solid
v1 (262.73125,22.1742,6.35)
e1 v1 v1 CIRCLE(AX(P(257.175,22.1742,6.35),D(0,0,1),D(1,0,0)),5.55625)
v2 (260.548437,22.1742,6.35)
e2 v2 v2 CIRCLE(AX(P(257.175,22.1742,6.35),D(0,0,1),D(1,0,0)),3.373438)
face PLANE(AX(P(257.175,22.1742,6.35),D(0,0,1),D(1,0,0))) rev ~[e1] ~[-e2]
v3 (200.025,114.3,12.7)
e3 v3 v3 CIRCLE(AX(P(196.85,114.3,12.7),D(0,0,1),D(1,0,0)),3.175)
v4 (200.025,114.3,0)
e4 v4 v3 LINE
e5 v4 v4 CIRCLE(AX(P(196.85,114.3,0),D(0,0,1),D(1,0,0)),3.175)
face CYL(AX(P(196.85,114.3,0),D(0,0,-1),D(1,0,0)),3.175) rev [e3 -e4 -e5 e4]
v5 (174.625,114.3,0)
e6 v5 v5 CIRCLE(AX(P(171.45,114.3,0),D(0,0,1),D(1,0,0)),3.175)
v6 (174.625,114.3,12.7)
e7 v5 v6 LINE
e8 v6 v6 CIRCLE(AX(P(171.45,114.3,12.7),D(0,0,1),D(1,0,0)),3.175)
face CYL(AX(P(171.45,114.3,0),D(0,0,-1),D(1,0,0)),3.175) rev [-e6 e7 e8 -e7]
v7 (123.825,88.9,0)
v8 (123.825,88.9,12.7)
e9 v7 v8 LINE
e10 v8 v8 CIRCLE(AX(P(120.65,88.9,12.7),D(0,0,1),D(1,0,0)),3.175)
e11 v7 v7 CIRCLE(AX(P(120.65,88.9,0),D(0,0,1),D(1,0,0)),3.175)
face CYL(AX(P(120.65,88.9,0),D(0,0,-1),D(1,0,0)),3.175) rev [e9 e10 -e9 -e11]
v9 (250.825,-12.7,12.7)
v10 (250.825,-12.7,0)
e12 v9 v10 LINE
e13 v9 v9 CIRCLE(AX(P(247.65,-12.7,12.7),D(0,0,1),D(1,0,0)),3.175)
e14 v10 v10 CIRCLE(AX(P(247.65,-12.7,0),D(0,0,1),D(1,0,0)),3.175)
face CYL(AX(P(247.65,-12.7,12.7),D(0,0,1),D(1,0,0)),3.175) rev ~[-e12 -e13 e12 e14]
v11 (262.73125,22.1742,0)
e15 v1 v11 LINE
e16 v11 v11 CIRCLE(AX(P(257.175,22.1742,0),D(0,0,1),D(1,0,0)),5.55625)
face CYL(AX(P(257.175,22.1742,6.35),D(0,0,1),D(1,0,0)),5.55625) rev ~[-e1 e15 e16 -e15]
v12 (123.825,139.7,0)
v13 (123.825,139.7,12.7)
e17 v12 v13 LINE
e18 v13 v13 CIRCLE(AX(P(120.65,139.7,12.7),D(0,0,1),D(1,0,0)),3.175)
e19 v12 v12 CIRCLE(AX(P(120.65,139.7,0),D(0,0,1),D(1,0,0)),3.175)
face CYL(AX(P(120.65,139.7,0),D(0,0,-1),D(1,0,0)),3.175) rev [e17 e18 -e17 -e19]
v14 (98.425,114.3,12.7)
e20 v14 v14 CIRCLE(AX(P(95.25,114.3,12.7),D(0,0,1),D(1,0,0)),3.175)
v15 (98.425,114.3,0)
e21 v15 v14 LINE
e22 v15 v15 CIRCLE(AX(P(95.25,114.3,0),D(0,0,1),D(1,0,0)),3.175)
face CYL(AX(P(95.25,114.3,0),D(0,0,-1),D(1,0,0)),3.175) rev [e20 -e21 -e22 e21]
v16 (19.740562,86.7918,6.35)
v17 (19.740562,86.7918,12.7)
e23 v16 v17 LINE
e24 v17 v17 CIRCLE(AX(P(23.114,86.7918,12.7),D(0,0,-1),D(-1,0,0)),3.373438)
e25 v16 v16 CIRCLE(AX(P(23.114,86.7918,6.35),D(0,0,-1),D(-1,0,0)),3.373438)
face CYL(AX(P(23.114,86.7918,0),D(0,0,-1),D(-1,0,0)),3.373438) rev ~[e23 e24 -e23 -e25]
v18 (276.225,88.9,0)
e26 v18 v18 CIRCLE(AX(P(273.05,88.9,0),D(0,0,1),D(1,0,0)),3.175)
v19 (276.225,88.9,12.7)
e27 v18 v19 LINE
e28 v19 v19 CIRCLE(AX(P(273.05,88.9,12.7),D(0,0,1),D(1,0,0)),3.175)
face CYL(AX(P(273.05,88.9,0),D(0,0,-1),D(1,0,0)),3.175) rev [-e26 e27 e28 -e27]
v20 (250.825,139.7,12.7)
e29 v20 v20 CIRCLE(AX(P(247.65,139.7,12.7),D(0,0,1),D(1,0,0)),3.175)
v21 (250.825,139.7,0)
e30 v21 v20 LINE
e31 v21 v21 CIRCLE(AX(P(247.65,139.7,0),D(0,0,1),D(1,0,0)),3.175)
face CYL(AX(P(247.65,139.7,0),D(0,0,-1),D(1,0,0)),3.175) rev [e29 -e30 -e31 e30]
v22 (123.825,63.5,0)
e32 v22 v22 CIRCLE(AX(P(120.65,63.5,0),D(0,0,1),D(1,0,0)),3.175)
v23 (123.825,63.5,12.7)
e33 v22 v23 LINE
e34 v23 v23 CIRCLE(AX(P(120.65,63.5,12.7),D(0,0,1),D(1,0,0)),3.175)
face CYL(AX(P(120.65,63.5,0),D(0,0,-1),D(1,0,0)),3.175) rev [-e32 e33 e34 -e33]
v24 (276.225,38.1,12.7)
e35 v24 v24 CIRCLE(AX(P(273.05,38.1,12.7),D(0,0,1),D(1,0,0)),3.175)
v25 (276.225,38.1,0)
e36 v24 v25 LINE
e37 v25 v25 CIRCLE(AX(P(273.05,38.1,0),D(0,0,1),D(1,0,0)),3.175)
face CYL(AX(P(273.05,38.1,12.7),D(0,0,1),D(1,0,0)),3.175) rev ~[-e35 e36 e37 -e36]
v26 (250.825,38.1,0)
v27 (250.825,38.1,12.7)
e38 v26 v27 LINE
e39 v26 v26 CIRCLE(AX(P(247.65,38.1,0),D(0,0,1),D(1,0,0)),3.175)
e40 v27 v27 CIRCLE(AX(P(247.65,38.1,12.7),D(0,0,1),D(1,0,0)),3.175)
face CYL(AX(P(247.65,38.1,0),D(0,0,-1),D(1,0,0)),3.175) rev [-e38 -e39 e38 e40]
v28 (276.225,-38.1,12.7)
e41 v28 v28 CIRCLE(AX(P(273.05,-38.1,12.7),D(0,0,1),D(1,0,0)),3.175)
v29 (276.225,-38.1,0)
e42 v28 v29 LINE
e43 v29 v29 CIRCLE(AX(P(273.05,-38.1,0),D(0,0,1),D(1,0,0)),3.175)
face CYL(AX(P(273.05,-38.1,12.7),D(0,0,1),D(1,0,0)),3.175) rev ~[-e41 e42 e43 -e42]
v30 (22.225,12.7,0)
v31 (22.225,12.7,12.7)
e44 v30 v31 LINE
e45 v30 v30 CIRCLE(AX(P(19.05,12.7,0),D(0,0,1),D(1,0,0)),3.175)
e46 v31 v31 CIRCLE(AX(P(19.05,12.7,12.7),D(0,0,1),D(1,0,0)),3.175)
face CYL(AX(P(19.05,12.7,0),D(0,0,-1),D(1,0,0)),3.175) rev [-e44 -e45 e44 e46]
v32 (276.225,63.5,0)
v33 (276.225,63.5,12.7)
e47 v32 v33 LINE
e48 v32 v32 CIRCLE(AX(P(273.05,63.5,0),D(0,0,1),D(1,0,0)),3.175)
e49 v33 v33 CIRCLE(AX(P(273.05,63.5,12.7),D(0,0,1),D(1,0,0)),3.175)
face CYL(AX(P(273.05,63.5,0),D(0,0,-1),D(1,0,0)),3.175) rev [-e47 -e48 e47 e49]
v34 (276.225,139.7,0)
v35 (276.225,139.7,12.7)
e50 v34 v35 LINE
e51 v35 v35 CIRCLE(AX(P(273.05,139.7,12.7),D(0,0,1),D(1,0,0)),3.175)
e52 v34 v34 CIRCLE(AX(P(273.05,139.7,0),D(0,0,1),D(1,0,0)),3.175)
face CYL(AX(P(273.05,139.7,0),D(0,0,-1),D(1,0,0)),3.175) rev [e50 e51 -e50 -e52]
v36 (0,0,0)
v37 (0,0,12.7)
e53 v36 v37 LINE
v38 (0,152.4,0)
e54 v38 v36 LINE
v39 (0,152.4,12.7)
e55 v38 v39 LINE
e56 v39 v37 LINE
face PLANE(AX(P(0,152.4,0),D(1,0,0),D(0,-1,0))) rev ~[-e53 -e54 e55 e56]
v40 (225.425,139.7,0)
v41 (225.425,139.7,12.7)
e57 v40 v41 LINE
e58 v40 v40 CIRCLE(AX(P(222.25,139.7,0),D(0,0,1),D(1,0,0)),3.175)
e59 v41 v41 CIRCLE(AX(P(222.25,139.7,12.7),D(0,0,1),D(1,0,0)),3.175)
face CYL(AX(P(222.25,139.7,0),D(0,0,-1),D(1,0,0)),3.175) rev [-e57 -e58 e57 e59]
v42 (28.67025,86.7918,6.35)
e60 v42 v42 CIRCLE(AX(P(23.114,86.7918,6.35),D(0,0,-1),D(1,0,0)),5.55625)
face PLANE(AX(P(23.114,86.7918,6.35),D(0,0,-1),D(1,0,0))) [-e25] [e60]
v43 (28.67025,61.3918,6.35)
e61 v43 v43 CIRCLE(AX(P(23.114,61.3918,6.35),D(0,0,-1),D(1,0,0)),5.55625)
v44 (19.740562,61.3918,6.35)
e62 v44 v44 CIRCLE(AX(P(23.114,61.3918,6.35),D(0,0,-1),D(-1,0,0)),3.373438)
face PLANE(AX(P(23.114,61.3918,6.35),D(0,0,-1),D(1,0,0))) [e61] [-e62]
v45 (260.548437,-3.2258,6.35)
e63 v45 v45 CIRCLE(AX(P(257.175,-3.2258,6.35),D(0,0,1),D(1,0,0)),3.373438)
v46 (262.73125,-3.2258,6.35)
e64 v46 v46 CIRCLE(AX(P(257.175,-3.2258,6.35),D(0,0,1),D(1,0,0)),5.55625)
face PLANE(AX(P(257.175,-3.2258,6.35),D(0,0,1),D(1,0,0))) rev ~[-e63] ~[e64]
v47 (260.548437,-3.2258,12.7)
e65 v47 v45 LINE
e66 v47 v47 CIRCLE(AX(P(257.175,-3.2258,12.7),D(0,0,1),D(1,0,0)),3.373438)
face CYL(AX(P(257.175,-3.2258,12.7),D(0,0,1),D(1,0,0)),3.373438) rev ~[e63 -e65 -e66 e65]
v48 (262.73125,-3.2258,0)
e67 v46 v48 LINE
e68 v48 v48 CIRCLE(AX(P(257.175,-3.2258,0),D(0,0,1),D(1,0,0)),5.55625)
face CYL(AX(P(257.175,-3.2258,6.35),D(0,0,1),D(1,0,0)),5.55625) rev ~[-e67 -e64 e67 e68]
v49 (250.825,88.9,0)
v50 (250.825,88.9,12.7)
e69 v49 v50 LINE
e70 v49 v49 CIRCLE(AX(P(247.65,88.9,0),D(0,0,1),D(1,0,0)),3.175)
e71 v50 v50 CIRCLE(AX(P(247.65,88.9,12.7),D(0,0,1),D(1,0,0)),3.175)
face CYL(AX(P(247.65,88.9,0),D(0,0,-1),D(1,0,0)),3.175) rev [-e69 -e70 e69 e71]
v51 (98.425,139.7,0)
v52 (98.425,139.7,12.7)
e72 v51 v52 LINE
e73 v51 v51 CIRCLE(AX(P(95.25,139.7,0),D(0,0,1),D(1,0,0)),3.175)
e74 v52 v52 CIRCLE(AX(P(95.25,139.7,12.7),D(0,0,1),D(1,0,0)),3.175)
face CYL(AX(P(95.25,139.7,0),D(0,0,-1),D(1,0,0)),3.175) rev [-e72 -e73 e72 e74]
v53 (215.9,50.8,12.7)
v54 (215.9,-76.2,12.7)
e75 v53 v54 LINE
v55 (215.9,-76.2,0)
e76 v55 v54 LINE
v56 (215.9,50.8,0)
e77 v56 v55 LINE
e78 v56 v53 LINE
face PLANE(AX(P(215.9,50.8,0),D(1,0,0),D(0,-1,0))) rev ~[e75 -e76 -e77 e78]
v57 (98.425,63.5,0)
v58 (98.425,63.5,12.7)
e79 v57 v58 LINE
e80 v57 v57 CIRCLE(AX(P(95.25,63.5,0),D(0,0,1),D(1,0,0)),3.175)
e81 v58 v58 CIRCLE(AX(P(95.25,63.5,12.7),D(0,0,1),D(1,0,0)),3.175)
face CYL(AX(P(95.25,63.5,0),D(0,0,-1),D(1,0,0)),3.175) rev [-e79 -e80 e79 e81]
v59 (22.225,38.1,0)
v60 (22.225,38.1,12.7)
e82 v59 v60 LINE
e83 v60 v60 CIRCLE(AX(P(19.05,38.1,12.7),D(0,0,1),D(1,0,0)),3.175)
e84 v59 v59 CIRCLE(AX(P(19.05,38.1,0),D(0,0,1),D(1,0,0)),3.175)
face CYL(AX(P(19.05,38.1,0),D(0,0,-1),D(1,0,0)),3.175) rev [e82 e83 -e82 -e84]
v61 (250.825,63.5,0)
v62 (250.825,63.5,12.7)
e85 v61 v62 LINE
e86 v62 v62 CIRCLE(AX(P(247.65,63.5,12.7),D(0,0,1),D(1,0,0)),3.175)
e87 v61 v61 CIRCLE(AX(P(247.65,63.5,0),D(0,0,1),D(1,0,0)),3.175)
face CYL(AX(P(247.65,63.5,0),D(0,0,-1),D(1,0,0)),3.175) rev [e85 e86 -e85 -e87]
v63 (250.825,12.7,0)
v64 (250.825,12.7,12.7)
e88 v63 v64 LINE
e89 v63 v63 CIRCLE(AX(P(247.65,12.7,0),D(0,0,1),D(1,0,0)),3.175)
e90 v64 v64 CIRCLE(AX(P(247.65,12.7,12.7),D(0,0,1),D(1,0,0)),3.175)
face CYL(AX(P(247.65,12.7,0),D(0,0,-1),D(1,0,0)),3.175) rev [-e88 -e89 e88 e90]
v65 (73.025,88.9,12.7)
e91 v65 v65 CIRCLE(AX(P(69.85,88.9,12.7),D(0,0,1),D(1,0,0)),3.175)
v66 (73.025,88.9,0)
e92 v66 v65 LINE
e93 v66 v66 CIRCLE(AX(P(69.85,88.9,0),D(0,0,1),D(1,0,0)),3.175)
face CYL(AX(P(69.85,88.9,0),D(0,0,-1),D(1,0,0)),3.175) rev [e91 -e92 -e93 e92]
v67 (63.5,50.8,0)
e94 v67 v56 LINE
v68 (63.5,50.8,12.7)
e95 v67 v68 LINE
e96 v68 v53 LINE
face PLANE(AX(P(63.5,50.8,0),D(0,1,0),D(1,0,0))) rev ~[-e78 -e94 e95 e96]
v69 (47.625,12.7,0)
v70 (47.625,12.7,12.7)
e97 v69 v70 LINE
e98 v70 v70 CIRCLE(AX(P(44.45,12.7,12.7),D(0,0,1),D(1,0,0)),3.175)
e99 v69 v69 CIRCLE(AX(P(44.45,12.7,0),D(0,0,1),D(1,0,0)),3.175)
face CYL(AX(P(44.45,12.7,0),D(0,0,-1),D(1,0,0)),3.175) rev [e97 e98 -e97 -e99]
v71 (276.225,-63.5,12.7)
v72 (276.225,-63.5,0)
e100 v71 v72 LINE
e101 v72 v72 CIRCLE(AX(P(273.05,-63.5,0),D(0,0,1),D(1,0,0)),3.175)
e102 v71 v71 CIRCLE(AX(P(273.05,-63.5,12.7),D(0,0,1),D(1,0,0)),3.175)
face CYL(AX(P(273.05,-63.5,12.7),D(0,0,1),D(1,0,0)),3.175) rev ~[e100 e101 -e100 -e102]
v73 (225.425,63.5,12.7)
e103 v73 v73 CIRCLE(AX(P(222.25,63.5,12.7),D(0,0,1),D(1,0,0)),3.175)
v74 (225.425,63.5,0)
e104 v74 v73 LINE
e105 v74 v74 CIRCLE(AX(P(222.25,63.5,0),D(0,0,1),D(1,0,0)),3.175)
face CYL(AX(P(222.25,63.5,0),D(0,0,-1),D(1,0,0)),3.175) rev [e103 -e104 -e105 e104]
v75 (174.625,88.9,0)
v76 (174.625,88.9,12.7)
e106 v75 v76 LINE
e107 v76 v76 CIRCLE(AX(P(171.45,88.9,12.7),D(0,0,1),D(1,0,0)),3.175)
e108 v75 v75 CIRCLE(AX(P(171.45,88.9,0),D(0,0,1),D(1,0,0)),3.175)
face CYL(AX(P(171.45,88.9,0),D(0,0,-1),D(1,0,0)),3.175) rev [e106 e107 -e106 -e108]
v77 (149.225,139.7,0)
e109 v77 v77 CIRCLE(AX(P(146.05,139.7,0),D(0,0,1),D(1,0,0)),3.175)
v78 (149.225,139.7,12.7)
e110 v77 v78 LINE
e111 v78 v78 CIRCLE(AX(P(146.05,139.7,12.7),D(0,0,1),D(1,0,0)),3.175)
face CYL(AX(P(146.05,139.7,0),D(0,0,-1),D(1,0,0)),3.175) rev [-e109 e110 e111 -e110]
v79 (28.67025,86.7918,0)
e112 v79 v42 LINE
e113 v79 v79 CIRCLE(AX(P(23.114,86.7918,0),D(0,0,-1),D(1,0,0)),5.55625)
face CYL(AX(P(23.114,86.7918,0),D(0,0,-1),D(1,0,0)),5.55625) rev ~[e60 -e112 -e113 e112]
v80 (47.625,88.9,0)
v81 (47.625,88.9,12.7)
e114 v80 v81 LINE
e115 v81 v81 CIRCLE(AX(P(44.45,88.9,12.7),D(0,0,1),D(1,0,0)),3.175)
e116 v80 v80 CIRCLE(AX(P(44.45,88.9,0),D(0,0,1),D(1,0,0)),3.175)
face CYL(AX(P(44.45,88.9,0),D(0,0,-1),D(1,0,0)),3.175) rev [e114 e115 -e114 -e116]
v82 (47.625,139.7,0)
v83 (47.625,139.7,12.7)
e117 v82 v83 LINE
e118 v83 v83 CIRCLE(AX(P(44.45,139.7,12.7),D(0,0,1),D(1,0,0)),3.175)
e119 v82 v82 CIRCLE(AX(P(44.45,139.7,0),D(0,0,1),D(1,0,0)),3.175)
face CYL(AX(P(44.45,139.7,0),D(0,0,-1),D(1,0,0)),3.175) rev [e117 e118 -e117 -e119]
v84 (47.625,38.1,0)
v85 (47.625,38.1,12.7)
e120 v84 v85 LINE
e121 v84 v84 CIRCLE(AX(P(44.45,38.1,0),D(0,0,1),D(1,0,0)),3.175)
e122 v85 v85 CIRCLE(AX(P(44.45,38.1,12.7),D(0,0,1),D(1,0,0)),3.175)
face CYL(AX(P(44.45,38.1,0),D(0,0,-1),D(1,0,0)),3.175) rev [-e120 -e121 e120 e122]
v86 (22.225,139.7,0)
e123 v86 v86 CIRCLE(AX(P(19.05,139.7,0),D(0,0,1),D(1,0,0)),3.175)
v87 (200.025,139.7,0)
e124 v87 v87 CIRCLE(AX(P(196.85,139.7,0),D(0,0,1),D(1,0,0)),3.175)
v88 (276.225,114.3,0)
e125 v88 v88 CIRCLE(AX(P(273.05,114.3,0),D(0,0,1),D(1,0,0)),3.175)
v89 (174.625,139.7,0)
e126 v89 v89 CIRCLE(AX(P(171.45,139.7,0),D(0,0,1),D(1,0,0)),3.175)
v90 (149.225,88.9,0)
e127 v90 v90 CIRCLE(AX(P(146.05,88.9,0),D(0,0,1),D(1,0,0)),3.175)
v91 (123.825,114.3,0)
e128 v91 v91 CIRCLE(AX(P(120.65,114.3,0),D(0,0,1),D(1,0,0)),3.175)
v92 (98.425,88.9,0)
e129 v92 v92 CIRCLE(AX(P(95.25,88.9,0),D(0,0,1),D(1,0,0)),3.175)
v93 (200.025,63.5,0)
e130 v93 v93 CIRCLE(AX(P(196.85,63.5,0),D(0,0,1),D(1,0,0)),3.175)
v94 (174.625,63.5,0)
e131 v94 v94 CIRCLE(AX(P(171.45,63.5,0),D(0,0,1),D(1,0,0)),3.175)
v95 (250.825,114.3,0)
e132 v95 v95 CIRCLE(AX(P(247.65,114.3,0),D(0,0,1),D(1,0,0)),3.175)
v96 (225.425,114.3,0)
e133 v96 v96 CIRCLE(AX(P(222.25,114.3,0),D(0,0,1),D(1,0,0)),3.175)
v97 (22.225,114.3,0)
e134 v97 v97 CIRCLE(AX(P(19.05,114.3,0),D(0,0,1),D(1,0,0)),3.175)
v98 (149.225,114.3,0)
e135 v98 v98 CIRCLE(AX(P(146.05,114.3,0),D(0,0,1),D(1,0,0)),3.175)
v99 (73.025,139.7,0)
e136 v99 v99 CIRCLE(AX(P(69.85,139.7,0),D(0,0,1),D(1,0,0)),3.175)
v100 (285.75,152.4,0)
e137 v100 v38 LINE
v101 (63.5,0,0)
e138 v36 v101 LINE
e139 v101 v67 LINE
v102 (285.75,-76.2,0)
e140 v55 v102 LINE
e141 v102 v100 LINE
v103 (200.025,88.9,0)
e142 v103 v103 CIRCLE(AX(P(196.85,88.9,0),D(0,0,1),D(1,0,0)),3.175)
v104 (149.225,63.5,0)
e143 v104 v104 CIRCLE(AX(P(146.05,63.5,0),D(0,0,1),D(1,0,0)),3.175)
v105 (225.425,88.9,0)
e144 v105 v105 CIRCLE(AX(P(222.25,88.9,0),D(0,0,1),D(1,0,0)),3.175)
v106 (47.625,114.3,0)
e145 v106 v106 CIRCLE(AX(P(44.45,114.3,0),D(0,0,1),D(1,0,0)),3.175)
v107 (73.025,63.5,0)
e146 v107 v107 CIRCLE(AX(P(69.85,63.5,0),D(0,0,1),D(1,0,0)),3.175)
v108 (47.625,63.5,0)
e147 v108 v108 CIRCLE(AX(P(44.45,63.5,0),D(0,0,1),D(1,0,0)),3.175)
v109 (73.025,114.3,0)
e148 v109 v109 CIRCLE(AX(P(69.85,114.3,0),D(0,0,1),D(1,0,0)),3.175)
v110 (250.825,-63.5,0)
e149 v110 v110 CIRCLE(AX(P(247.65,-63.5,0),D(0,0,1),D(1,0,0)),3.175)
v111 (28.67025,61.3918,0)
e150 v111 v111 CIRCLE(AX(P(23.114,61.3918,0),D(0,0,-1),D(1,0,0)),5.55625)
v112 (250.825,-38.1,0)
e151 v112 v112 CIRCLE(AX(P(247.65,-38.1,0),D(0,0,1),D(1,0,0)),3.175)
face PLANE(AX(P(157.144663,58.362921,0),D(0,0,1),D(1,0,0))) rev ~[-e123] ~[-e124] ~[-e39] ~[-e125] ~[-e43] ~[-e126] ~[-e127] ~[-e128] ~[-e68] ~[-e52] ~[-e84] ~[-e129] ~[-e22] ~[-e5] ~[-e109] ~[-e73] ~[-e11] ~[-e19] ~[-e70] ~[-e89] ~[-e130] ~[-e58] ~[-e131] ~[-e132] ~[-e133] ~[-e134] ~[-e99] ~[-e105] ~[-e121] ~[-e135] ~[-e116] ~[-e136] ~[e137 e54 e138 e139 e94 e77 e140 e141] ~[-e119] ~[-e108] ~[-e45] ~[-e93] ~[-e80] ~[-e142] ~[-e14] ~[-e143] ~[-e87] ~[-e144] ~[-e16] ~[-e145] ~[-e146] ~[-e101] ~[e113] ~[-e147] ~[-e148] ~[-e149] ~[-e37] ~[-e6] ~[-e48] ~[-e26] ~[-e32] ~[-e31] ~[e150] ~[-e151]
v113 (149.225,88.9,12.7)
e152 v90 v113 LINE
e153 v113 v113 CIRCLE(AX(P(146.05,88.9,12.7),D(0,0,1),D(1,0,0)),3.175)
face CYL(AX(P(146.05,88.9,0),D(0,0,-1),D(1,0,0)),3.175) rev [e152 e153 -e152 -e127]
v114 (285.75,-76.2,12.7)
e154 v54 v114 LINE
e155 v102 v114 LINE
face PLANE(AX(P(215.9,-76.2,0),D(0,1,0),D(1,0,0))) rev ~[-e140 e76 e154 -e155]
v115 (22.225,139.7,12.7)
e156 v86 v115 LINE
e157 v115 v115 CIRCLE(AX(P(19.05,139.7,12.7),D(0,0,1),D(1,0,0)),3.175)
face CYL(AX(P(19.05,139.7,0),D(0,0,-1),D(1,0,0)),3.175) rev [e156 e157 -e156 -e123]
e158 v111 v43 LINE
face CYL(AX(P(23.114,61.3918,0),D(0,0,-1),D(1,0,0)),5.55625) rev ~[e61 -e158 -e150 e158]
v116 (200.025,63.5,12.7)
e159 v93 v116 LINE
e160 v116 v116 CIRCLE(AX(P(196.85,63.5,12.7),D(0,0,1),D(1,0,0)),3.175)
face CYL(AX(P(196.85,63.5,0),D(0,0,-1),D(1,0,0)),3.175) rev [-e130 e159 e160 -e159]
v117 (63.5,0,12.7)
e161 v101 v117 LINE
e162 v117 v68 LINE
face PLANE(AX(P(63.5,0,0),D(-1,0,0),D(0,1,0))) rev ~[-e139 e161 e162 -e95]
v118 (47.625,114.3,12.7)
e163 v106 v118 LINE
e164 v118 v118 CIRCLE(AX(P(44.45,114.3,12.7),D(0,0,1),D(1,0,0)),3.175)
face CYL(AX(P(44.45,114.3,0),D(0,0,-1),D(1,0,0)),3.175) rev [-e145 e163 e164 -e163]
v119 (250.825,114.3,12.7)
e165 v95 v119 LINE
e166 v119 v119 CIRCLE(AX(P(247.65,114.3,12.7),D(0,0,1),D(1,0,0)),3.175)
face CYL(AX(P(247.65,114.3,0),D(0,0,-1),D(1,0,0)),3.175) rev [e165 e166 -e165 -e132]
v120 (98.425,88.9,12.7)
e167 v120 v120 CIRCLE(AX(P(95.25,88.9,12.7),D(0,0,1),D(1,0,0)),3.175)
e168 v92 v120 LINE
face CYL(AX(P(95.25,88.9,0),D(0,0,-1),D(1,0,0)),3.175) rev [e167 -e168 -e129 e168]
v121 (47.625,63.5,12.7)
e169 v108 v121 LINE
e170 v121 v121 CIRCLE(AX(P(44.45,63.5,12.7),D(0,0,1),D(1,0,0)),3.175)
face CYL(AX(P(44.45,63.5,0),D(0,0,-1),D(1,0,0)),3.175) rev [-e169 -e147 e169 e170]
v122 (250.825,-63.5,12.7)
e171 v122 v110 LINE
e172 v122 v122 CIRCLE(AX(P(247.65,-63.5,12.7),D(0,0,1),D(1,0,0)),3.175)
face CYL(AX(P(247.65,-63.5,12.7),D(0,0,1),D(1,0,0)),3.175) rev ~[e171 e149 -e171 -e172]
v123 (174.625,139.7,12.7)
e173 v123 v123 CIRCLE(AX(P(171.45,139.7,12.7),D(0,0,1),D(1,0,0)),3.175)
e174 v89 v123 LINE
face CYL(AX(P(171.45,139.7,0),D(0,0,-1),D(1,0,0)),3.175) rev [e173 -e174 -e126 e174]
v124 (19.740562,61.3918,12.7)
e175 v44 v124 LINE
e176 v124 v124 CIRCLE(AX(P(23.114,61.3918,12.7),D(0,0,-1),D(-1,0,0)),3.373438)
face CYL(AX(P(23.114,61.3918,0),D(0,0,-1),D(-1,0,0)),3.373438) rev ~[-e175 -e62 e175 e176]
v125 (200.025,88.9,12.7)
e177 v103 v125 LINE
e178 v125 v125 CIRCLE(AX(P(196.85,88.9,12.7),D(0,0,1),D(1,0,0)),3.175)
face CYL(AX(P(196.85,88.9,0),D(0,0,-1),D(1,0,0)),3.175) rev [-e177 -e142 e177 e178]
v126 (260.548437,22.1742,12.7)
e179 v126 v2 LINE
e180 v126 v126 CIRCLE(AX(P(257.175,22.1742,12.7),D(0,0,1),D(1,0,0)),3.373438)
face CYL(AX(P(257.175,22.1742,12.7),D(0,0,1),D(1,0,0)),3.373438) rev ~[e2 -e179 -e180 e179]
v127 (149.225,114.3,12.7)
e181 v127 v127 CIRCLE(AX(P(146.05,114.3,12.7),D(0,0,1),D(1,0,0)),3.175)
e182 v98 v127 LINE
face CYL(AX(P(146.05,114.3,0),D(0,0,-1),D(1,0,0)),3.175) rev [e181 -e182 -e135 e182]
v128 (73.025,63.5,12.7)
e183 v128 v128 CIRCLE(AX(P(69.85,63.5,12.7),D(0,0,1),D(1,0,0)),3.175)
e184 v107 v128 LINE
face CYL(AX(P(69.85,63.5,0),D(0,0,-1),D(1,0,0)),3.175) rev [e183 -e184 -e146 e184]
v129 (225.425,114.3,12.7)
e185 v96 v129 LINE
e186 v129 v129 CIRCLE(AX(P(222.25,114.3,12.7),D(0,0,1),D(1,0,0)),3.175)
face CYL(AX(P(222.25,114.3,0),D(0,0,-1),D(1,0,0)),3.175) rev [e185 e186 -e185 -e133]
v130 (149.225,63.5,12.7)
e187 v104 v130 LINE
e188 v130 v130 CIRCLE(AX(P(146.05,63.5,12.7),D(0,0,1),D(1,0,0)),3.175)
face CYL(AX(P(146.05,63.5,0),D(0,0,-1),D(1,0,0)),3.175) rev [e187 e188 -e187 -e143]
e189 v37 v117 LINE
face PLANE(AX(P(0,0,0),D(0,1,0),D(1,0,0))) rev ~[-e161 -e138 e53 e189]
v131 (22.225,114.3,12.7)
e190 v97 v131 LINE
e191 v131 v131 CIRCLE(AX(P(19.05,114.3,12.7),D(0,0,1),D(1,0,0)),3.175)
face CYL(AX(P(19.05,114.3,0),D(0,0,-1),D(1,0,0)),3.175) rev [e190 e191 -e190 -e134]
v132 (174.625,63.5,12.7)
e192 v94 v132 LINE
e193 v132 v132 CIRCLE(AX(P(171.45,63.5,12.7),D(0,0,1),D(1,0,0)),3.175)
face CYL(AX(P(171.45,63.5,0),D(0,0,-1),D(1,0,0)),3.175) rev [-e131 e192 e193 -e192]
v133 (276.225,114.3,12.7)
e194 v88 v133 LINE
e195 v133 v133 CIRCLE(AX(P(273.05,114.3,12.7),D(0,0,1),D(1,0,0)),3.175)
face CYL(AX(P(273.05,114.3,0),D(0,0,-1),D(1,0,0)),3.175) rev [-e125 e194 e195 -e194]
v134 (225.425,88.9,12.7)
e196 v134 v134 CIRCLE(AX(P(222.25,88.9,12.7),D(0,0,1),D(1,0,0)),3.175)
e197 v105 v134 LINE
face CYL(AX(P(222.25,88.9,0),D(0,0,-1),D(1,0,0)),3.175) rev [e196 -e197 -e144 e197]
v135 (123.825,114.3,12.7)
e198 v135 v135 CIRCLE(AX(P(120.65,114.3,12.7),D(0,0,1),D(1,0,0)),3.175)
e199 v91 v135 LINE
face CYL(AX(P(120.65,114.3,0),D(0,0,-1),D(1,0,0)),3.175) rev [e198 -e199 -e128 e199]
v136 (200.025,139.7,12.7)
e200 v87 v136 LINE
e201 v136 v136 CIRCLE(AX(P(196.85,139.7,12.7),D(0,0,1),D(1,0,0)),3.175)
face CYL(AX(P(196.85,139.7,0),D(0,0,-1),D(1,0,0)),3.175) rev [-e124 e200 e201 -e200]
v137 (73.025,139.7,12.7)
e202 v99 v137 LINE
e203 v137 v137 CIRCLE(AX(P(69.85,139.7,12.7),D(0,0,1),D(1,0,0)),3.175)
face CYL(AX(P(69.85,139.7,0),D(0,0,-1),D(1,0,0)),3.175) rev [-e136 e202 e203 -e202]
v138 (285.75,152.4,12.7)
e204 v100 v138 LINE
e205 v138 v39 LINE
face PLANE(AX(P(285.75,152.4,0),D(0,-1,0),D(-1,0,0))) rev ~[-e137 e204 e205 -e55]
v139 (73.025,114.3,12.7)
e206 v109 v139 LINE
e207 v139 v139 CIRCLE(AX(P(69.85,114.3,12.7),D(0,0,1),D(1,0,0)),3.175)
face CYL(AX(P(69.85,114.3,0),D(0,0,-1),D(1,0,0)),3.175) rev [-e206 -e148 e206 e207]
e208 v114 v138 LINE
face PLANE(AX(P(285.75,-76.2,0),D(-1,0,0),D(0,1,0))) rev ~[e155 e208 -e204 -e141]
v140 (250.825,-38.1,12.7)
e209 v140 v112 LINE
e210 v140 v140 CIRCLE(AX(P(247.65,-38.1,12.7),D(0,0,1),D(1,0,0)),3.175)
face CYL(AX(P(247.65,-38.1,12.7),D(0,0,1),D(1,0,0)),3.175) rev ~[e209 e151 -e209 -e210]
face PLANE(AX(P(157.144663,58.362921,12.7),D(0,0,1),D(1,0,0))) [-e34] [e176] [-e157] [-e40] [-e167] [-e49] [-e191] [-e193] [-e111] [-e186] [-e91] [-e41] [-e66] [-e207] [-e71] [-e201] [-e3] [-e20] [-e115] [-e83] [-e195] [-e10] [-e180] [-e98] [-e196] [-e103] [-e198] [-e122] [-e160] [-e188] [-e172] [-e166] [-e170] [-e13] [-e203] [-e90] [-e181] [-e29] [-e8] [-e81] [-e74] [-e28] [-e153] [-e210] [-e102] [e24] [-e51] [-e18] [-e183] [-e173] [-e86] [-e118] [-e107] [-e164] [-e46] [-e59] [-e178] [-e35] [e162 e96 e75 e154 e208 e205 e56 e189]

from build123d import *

# Parameters (mm, degrees)
SKETCH1_R           = 3.175
BOSS_EXTRUDE1_DEPTH = 12.7
SKETCH2_R           = 3.175
CUT_EXTRUDE1_DEPTH  = 12.7
SKETCH3_R           = 3.3734375
CUT_EXTRUDE2_DEPTH  = 12.7
CUT_EXTRUDE3_START  = -6.35
SKETCH3_3_R         = 5.55625
SKETCH3_3_R_2       = 3.3734375
CUT_EXTRUDE3_DEPTH  = 6.35
SKETCH5_R           = 3.3734375
CUT_EXTRUDE4_DEPTH  = 12.7
SKETCH5_3_R         = 5.55625
SKETCH5_3_R_2       = 3.3734375
CUT_EXTRUDE5_DEPTH  = 6.35


with BuildPart() as part:
    # Sketch1 → Boss-Extrude1 (new body)
    with BuildSketch(Plane.XY):
        Polygon((0, 152.4), (0, 0), (63.5, 0), (63.5, 50.8), (215.9, 50.8), (215.9, -76.2), (285.75, -76.2), (285.75, 152.4), align=None)
        with Locations((19.05, 12.7)):
            Circle(SKETCH1_R, mode=Mode.SUBTRACT)
        with Locations((19.05, 38.1)):
            Circle(SKETCH1_R, mode=Mode.SUBTRACT)
        with Locations((44.45, 12.7)):
            Circle(SKETCH1_R, mode=Mode.SUBTRACT)
        with Locations((44.45, 38.1)):
            Circle(SKETCH1_R, mode=Mode.SUBTRACT)
        with Locations((247.65, 12.7)):
            Circle(SKETCH1_R, mode=Mode.SUBTRACT)
        with Locations((247.65, 38.1)):
            Circle(SKETCH1_R, mode=Mode.SUBTRACT)
        with Locations((44.45, 63.5)):
            Circle(SKETCH1_R, mode=Mode.SUBTRACT)
        with Locations((69.85, 63.5)):
            Circle(SKETCH1_R, mode=Mode.SUBTRACT)
        with Locations((44.45, 88.9)):
            Circle(SKETCH1_R, mode=Mode.SUBTRACT)
        with Locations((69.85, 88.9)):
            Circle(SKETCH1_R, mode=Mode.SUBTRACT)
        with Locations((95.25, 63.5)):
            Circle(SKETCH1_R, mode=Mode.SUBTRACT)
        with Locations((120.65, 63.5)):
            Circle(SKETCH1_R, mode=Mode.SUBTRACT)
        with Locations((95.25, 88.9)):
            Circle(SKETCH1_R, mode=Mode.SUBTRACT)
        with Locations((120.65, 88.9)):
            Circle(SKETCH1_R, mode=Mode.SUBTRACT)
        with Locations((19.05, 114.3)):
            Circle(SKETCH1_R, mode=Mode.SUBTRACT)
        with Locations((44.45, 114.3)):
            Circle(SKETCH1_R, mode=Mode.SUBTRACT)
        with Locations((69.85, 114.3)):
            Circle(SKETCH1_R, mode=Mode.SUBTRACT)
        with Locations((19.05, 139.7)):
            Circle(SKETCH1_R, mode=Mode.SUBTRACT)
        with Locations((44.45, 139.7)):
            Circle(SKETCH1_R, mode=Mode.SUBTRACT)
        with Locations((69.85, 139.7)):
            Circle(SKETCH1_R, mode=Mode.SUBTRACT)
        with Locations((95.25, 114.3)):
            Circle(SKETCH1_R, mode=Mode.SUBTRACT)
        with Locations((120.65, 114.3)):
            Circle(SKETCH1_R, mode=Mode.SUBTRACT)
        with Locations((95.25, 139.7)):
            Circle(SKETCH1_R, mode=Mode.SUBTRACT)
        with Locations((120.65, 139.7)):
            Circle(SKETCH1_R, mode=Mode.SUBTRACT)
        with Locations((146.05, 63.5)):
            Circle(SKETCH1_R, mode=Mode.SUBTRACT)
        with Locations((171.45, 63.5)):
            Circle(SKETCH1_R, mode=Mode.SUBTRACT)
        with Locations((196.85, 63.5)):
            Circle(SKETCH1_R, mode=Mode.SUBTRACT)
        with Locations((146.05, 88.9)):
            Circle(SKETCH1_R, mode=Mode.SUBTRACT)
        with Locations((171.45, 88.9)):
            Circle(SKETCH1_R, mode=Mode.SUBTRACT)
        with Locations((196.85, 88.9)):
            Circle(SKETCH1_R, mode=Mode.SUBTRACT)
        with Locations((222.25, 63.5)):
            Circle(SKETCH1_R, mode=Mode.SUBTRACT)
        with Locations((247.65, 63.5)):
            Circle(SKETCH1_R, mode=Mode.SUBTRACT)
        with Locations((273.05, 63.5)):
            Circle(SKETCH1_R, mode=Mode.SUBTRACT)
        with Locations((222.25, 88.9)):
            Circle(SKETCH1_R, mode=Mode.SUBTRACT)
        with Locations((247.65, 88.9)):
            Circle(SKETCH1_R, mode=Mode.SUBTRACT)
        with Locations((273.05, 88.9)):
            Circle(SKETCH1_R, mode=Mode.SUBTRACT)
        with Locations((146.05, 114.3)):
            Circle(SKETCH1_R, mode=Mode.SUBTRACT)
        with Locations((171.45, 114.3)):
            Circle(SKETCH1_R, mode=Mode.SUBTRACT)
        with Locations((196.85, 114.3)):
            Circle(SKETCH1_R, mode=Mode.SUBTRACT)
        with Locations((146.05, 139.7)):
            Circle(SKETCH1_R, mode=Mode.SUBTRACT)
        with Locations((171.45, 139.7)):
            Circle(SKETCH1_R, mode=Mode.SUBTRACT)
        with Locations((196.85, 139.7)):
            Circle(SKETCH1_R, mode=Mode.SUBTRACT)
        with Locations((222.25, 114.3)):
            Circle(SKETCH1_R, mode=Mode.SUBTRACT)
        with Locations((247.65, 114.3)):
            Circle(SKETCH1_R, mode=Mode.SUBTRACT)
        with Locations((273.05, 114.3)):
            Circle(SKETCH1_R, mode=Mode.SUBTRACT)
        with Locations((222.25, 139.7)):
            Circle(SKETCH1_R, mode=Mode.SUBTRACT)
        with Locations((247.65, 139.7)):
            Circle(SKETCH1_R, mode=Mode.SUBTRACT)
        with Locations((273.05, 139.7)):
            Circle(SKETCH1_R, mode=Mode.SUBTRACT)
    extrude(amount=BOSS_EXTRUDE1_DEPTH)

    # Sketch2 → Cut-Extrude1 (cut)
    with BuildSketch(Plane.XY.offset(12.7)):
        with Locations((247.65, -12.7)):
            Circle(SKETCH2_R)
        with Locations((247.65, -38.1)):
            Circle(SKETCH2_R)
        with Locations((247.65, -63.5)):
            Circle(SKETCH2_R)
        with Locations((273.05, -38.1)):
            Circle(SKETCH2_R)
        with Locations((273.05, -63.5)):
            Circle(SKETCH2_R)
        with Locations((273.05, 38.1)):
            Circle(SKETCH2_R)
    extrude(amount=-CUT_EXTRUDE1_DEPTH, mode=Mode.SUBTRACT)

    # Sketch3 → Cut-Extrude2 (cut)
    with BuildSketch(Plane.XY.offset(12.7)):
        with Locations((257.175, -3.2258)):
            Circle(SKETCH3_R)
        with Locations((257.175, 22.1742)):
            Circle(SKETCH3_R)
    extrude(amount=-CUT_EXTRUDE2_DEPTH, mode=Mode.SUBTRACT)

    # Sketch3<3> → Cut-Extrude3 (cut)
    # profile 1 of 2: a face of its own
    with BuildSketch(Plane.XY.offset(12.7).offset(CUT_EXTRUDE3_START)):
        with Locations((257.175, -3.2258)):
            Circle(SKETCH3_3_R)
        with Locations((257.175, -3.2258)):
            Circle(SKETCH3_3_R_2, mode=Mode.SUBTRACT)
    # profile 2 of 2: a face of its own
    with BuildSketch(Plane.XY.offset(12.7).offset(CUT_EXTRUDE3_START)):
        with Locations((257.175, 22.1742)):
            Circle(SKETCH3_3_R)
        with Locations((257.175, 22.1742)):
            Circle(SKETCH3_3_R_2, mode=Mode.SUBTRACT)
    extrude(amount=-CUT_EXTRUDE3_DEPTH, mode=Mode.SUBTRACT)

    # Sketch5 → Cut-Extrude4 (cut)
    with BuildSketch(Plane(origin=(0, 0, 0), x_dir=(-1, 0, 0), z_dir=(0, 0, -1))):
        with Locations((-23.114, 61.3918)):
            Circle(SKETCH5_R)
        with Locations((-23.114, 86.7918)):
            Circle(SKETCH5_R)
    extrude(amount=-CUT_EXTRUDE4_DEPTH, mode=Mode.SUBTRACT)

    # Sketch5<3> → Cut-Extrude5 (cut)
    # profile 1 of 2: a face of its own
    with BuildSketch(Plane(origin=(0, 0, 0), x_dir=(-1, 0, 0), z_dir=(0, 0, -1))):
        with Locations(Location((-23.114, 61.3918, 0), (0, 0, 180))):
            Circle(SKETCH5_3_R)
        with Locations((-23.114, 61.3918)):
            Circle(SKETCH5_3_R_2, mode=Mode.SUBTRACT)
    # profile 2 of 2: a face of its own
    with BuildSketch(Plane(origin=(0, 0, 0), x_dir=(-1, 0, 0), z_dir=(0, 0, -1))):
        with Locations(Location((-23.114, 86.7918, 0), (0, 0, 180))):
            Circle(SKETCH5_3_R)
        with Locations((-23.114, 86.7918)):
            Circle(SKETCH5_3_R_2, mode=Mode.SUBTRACT)
    extrude(amount=-CUT_EXTRUDE5_DEPTH, mode=Mode.SUBTRACT)


solid = part.part
